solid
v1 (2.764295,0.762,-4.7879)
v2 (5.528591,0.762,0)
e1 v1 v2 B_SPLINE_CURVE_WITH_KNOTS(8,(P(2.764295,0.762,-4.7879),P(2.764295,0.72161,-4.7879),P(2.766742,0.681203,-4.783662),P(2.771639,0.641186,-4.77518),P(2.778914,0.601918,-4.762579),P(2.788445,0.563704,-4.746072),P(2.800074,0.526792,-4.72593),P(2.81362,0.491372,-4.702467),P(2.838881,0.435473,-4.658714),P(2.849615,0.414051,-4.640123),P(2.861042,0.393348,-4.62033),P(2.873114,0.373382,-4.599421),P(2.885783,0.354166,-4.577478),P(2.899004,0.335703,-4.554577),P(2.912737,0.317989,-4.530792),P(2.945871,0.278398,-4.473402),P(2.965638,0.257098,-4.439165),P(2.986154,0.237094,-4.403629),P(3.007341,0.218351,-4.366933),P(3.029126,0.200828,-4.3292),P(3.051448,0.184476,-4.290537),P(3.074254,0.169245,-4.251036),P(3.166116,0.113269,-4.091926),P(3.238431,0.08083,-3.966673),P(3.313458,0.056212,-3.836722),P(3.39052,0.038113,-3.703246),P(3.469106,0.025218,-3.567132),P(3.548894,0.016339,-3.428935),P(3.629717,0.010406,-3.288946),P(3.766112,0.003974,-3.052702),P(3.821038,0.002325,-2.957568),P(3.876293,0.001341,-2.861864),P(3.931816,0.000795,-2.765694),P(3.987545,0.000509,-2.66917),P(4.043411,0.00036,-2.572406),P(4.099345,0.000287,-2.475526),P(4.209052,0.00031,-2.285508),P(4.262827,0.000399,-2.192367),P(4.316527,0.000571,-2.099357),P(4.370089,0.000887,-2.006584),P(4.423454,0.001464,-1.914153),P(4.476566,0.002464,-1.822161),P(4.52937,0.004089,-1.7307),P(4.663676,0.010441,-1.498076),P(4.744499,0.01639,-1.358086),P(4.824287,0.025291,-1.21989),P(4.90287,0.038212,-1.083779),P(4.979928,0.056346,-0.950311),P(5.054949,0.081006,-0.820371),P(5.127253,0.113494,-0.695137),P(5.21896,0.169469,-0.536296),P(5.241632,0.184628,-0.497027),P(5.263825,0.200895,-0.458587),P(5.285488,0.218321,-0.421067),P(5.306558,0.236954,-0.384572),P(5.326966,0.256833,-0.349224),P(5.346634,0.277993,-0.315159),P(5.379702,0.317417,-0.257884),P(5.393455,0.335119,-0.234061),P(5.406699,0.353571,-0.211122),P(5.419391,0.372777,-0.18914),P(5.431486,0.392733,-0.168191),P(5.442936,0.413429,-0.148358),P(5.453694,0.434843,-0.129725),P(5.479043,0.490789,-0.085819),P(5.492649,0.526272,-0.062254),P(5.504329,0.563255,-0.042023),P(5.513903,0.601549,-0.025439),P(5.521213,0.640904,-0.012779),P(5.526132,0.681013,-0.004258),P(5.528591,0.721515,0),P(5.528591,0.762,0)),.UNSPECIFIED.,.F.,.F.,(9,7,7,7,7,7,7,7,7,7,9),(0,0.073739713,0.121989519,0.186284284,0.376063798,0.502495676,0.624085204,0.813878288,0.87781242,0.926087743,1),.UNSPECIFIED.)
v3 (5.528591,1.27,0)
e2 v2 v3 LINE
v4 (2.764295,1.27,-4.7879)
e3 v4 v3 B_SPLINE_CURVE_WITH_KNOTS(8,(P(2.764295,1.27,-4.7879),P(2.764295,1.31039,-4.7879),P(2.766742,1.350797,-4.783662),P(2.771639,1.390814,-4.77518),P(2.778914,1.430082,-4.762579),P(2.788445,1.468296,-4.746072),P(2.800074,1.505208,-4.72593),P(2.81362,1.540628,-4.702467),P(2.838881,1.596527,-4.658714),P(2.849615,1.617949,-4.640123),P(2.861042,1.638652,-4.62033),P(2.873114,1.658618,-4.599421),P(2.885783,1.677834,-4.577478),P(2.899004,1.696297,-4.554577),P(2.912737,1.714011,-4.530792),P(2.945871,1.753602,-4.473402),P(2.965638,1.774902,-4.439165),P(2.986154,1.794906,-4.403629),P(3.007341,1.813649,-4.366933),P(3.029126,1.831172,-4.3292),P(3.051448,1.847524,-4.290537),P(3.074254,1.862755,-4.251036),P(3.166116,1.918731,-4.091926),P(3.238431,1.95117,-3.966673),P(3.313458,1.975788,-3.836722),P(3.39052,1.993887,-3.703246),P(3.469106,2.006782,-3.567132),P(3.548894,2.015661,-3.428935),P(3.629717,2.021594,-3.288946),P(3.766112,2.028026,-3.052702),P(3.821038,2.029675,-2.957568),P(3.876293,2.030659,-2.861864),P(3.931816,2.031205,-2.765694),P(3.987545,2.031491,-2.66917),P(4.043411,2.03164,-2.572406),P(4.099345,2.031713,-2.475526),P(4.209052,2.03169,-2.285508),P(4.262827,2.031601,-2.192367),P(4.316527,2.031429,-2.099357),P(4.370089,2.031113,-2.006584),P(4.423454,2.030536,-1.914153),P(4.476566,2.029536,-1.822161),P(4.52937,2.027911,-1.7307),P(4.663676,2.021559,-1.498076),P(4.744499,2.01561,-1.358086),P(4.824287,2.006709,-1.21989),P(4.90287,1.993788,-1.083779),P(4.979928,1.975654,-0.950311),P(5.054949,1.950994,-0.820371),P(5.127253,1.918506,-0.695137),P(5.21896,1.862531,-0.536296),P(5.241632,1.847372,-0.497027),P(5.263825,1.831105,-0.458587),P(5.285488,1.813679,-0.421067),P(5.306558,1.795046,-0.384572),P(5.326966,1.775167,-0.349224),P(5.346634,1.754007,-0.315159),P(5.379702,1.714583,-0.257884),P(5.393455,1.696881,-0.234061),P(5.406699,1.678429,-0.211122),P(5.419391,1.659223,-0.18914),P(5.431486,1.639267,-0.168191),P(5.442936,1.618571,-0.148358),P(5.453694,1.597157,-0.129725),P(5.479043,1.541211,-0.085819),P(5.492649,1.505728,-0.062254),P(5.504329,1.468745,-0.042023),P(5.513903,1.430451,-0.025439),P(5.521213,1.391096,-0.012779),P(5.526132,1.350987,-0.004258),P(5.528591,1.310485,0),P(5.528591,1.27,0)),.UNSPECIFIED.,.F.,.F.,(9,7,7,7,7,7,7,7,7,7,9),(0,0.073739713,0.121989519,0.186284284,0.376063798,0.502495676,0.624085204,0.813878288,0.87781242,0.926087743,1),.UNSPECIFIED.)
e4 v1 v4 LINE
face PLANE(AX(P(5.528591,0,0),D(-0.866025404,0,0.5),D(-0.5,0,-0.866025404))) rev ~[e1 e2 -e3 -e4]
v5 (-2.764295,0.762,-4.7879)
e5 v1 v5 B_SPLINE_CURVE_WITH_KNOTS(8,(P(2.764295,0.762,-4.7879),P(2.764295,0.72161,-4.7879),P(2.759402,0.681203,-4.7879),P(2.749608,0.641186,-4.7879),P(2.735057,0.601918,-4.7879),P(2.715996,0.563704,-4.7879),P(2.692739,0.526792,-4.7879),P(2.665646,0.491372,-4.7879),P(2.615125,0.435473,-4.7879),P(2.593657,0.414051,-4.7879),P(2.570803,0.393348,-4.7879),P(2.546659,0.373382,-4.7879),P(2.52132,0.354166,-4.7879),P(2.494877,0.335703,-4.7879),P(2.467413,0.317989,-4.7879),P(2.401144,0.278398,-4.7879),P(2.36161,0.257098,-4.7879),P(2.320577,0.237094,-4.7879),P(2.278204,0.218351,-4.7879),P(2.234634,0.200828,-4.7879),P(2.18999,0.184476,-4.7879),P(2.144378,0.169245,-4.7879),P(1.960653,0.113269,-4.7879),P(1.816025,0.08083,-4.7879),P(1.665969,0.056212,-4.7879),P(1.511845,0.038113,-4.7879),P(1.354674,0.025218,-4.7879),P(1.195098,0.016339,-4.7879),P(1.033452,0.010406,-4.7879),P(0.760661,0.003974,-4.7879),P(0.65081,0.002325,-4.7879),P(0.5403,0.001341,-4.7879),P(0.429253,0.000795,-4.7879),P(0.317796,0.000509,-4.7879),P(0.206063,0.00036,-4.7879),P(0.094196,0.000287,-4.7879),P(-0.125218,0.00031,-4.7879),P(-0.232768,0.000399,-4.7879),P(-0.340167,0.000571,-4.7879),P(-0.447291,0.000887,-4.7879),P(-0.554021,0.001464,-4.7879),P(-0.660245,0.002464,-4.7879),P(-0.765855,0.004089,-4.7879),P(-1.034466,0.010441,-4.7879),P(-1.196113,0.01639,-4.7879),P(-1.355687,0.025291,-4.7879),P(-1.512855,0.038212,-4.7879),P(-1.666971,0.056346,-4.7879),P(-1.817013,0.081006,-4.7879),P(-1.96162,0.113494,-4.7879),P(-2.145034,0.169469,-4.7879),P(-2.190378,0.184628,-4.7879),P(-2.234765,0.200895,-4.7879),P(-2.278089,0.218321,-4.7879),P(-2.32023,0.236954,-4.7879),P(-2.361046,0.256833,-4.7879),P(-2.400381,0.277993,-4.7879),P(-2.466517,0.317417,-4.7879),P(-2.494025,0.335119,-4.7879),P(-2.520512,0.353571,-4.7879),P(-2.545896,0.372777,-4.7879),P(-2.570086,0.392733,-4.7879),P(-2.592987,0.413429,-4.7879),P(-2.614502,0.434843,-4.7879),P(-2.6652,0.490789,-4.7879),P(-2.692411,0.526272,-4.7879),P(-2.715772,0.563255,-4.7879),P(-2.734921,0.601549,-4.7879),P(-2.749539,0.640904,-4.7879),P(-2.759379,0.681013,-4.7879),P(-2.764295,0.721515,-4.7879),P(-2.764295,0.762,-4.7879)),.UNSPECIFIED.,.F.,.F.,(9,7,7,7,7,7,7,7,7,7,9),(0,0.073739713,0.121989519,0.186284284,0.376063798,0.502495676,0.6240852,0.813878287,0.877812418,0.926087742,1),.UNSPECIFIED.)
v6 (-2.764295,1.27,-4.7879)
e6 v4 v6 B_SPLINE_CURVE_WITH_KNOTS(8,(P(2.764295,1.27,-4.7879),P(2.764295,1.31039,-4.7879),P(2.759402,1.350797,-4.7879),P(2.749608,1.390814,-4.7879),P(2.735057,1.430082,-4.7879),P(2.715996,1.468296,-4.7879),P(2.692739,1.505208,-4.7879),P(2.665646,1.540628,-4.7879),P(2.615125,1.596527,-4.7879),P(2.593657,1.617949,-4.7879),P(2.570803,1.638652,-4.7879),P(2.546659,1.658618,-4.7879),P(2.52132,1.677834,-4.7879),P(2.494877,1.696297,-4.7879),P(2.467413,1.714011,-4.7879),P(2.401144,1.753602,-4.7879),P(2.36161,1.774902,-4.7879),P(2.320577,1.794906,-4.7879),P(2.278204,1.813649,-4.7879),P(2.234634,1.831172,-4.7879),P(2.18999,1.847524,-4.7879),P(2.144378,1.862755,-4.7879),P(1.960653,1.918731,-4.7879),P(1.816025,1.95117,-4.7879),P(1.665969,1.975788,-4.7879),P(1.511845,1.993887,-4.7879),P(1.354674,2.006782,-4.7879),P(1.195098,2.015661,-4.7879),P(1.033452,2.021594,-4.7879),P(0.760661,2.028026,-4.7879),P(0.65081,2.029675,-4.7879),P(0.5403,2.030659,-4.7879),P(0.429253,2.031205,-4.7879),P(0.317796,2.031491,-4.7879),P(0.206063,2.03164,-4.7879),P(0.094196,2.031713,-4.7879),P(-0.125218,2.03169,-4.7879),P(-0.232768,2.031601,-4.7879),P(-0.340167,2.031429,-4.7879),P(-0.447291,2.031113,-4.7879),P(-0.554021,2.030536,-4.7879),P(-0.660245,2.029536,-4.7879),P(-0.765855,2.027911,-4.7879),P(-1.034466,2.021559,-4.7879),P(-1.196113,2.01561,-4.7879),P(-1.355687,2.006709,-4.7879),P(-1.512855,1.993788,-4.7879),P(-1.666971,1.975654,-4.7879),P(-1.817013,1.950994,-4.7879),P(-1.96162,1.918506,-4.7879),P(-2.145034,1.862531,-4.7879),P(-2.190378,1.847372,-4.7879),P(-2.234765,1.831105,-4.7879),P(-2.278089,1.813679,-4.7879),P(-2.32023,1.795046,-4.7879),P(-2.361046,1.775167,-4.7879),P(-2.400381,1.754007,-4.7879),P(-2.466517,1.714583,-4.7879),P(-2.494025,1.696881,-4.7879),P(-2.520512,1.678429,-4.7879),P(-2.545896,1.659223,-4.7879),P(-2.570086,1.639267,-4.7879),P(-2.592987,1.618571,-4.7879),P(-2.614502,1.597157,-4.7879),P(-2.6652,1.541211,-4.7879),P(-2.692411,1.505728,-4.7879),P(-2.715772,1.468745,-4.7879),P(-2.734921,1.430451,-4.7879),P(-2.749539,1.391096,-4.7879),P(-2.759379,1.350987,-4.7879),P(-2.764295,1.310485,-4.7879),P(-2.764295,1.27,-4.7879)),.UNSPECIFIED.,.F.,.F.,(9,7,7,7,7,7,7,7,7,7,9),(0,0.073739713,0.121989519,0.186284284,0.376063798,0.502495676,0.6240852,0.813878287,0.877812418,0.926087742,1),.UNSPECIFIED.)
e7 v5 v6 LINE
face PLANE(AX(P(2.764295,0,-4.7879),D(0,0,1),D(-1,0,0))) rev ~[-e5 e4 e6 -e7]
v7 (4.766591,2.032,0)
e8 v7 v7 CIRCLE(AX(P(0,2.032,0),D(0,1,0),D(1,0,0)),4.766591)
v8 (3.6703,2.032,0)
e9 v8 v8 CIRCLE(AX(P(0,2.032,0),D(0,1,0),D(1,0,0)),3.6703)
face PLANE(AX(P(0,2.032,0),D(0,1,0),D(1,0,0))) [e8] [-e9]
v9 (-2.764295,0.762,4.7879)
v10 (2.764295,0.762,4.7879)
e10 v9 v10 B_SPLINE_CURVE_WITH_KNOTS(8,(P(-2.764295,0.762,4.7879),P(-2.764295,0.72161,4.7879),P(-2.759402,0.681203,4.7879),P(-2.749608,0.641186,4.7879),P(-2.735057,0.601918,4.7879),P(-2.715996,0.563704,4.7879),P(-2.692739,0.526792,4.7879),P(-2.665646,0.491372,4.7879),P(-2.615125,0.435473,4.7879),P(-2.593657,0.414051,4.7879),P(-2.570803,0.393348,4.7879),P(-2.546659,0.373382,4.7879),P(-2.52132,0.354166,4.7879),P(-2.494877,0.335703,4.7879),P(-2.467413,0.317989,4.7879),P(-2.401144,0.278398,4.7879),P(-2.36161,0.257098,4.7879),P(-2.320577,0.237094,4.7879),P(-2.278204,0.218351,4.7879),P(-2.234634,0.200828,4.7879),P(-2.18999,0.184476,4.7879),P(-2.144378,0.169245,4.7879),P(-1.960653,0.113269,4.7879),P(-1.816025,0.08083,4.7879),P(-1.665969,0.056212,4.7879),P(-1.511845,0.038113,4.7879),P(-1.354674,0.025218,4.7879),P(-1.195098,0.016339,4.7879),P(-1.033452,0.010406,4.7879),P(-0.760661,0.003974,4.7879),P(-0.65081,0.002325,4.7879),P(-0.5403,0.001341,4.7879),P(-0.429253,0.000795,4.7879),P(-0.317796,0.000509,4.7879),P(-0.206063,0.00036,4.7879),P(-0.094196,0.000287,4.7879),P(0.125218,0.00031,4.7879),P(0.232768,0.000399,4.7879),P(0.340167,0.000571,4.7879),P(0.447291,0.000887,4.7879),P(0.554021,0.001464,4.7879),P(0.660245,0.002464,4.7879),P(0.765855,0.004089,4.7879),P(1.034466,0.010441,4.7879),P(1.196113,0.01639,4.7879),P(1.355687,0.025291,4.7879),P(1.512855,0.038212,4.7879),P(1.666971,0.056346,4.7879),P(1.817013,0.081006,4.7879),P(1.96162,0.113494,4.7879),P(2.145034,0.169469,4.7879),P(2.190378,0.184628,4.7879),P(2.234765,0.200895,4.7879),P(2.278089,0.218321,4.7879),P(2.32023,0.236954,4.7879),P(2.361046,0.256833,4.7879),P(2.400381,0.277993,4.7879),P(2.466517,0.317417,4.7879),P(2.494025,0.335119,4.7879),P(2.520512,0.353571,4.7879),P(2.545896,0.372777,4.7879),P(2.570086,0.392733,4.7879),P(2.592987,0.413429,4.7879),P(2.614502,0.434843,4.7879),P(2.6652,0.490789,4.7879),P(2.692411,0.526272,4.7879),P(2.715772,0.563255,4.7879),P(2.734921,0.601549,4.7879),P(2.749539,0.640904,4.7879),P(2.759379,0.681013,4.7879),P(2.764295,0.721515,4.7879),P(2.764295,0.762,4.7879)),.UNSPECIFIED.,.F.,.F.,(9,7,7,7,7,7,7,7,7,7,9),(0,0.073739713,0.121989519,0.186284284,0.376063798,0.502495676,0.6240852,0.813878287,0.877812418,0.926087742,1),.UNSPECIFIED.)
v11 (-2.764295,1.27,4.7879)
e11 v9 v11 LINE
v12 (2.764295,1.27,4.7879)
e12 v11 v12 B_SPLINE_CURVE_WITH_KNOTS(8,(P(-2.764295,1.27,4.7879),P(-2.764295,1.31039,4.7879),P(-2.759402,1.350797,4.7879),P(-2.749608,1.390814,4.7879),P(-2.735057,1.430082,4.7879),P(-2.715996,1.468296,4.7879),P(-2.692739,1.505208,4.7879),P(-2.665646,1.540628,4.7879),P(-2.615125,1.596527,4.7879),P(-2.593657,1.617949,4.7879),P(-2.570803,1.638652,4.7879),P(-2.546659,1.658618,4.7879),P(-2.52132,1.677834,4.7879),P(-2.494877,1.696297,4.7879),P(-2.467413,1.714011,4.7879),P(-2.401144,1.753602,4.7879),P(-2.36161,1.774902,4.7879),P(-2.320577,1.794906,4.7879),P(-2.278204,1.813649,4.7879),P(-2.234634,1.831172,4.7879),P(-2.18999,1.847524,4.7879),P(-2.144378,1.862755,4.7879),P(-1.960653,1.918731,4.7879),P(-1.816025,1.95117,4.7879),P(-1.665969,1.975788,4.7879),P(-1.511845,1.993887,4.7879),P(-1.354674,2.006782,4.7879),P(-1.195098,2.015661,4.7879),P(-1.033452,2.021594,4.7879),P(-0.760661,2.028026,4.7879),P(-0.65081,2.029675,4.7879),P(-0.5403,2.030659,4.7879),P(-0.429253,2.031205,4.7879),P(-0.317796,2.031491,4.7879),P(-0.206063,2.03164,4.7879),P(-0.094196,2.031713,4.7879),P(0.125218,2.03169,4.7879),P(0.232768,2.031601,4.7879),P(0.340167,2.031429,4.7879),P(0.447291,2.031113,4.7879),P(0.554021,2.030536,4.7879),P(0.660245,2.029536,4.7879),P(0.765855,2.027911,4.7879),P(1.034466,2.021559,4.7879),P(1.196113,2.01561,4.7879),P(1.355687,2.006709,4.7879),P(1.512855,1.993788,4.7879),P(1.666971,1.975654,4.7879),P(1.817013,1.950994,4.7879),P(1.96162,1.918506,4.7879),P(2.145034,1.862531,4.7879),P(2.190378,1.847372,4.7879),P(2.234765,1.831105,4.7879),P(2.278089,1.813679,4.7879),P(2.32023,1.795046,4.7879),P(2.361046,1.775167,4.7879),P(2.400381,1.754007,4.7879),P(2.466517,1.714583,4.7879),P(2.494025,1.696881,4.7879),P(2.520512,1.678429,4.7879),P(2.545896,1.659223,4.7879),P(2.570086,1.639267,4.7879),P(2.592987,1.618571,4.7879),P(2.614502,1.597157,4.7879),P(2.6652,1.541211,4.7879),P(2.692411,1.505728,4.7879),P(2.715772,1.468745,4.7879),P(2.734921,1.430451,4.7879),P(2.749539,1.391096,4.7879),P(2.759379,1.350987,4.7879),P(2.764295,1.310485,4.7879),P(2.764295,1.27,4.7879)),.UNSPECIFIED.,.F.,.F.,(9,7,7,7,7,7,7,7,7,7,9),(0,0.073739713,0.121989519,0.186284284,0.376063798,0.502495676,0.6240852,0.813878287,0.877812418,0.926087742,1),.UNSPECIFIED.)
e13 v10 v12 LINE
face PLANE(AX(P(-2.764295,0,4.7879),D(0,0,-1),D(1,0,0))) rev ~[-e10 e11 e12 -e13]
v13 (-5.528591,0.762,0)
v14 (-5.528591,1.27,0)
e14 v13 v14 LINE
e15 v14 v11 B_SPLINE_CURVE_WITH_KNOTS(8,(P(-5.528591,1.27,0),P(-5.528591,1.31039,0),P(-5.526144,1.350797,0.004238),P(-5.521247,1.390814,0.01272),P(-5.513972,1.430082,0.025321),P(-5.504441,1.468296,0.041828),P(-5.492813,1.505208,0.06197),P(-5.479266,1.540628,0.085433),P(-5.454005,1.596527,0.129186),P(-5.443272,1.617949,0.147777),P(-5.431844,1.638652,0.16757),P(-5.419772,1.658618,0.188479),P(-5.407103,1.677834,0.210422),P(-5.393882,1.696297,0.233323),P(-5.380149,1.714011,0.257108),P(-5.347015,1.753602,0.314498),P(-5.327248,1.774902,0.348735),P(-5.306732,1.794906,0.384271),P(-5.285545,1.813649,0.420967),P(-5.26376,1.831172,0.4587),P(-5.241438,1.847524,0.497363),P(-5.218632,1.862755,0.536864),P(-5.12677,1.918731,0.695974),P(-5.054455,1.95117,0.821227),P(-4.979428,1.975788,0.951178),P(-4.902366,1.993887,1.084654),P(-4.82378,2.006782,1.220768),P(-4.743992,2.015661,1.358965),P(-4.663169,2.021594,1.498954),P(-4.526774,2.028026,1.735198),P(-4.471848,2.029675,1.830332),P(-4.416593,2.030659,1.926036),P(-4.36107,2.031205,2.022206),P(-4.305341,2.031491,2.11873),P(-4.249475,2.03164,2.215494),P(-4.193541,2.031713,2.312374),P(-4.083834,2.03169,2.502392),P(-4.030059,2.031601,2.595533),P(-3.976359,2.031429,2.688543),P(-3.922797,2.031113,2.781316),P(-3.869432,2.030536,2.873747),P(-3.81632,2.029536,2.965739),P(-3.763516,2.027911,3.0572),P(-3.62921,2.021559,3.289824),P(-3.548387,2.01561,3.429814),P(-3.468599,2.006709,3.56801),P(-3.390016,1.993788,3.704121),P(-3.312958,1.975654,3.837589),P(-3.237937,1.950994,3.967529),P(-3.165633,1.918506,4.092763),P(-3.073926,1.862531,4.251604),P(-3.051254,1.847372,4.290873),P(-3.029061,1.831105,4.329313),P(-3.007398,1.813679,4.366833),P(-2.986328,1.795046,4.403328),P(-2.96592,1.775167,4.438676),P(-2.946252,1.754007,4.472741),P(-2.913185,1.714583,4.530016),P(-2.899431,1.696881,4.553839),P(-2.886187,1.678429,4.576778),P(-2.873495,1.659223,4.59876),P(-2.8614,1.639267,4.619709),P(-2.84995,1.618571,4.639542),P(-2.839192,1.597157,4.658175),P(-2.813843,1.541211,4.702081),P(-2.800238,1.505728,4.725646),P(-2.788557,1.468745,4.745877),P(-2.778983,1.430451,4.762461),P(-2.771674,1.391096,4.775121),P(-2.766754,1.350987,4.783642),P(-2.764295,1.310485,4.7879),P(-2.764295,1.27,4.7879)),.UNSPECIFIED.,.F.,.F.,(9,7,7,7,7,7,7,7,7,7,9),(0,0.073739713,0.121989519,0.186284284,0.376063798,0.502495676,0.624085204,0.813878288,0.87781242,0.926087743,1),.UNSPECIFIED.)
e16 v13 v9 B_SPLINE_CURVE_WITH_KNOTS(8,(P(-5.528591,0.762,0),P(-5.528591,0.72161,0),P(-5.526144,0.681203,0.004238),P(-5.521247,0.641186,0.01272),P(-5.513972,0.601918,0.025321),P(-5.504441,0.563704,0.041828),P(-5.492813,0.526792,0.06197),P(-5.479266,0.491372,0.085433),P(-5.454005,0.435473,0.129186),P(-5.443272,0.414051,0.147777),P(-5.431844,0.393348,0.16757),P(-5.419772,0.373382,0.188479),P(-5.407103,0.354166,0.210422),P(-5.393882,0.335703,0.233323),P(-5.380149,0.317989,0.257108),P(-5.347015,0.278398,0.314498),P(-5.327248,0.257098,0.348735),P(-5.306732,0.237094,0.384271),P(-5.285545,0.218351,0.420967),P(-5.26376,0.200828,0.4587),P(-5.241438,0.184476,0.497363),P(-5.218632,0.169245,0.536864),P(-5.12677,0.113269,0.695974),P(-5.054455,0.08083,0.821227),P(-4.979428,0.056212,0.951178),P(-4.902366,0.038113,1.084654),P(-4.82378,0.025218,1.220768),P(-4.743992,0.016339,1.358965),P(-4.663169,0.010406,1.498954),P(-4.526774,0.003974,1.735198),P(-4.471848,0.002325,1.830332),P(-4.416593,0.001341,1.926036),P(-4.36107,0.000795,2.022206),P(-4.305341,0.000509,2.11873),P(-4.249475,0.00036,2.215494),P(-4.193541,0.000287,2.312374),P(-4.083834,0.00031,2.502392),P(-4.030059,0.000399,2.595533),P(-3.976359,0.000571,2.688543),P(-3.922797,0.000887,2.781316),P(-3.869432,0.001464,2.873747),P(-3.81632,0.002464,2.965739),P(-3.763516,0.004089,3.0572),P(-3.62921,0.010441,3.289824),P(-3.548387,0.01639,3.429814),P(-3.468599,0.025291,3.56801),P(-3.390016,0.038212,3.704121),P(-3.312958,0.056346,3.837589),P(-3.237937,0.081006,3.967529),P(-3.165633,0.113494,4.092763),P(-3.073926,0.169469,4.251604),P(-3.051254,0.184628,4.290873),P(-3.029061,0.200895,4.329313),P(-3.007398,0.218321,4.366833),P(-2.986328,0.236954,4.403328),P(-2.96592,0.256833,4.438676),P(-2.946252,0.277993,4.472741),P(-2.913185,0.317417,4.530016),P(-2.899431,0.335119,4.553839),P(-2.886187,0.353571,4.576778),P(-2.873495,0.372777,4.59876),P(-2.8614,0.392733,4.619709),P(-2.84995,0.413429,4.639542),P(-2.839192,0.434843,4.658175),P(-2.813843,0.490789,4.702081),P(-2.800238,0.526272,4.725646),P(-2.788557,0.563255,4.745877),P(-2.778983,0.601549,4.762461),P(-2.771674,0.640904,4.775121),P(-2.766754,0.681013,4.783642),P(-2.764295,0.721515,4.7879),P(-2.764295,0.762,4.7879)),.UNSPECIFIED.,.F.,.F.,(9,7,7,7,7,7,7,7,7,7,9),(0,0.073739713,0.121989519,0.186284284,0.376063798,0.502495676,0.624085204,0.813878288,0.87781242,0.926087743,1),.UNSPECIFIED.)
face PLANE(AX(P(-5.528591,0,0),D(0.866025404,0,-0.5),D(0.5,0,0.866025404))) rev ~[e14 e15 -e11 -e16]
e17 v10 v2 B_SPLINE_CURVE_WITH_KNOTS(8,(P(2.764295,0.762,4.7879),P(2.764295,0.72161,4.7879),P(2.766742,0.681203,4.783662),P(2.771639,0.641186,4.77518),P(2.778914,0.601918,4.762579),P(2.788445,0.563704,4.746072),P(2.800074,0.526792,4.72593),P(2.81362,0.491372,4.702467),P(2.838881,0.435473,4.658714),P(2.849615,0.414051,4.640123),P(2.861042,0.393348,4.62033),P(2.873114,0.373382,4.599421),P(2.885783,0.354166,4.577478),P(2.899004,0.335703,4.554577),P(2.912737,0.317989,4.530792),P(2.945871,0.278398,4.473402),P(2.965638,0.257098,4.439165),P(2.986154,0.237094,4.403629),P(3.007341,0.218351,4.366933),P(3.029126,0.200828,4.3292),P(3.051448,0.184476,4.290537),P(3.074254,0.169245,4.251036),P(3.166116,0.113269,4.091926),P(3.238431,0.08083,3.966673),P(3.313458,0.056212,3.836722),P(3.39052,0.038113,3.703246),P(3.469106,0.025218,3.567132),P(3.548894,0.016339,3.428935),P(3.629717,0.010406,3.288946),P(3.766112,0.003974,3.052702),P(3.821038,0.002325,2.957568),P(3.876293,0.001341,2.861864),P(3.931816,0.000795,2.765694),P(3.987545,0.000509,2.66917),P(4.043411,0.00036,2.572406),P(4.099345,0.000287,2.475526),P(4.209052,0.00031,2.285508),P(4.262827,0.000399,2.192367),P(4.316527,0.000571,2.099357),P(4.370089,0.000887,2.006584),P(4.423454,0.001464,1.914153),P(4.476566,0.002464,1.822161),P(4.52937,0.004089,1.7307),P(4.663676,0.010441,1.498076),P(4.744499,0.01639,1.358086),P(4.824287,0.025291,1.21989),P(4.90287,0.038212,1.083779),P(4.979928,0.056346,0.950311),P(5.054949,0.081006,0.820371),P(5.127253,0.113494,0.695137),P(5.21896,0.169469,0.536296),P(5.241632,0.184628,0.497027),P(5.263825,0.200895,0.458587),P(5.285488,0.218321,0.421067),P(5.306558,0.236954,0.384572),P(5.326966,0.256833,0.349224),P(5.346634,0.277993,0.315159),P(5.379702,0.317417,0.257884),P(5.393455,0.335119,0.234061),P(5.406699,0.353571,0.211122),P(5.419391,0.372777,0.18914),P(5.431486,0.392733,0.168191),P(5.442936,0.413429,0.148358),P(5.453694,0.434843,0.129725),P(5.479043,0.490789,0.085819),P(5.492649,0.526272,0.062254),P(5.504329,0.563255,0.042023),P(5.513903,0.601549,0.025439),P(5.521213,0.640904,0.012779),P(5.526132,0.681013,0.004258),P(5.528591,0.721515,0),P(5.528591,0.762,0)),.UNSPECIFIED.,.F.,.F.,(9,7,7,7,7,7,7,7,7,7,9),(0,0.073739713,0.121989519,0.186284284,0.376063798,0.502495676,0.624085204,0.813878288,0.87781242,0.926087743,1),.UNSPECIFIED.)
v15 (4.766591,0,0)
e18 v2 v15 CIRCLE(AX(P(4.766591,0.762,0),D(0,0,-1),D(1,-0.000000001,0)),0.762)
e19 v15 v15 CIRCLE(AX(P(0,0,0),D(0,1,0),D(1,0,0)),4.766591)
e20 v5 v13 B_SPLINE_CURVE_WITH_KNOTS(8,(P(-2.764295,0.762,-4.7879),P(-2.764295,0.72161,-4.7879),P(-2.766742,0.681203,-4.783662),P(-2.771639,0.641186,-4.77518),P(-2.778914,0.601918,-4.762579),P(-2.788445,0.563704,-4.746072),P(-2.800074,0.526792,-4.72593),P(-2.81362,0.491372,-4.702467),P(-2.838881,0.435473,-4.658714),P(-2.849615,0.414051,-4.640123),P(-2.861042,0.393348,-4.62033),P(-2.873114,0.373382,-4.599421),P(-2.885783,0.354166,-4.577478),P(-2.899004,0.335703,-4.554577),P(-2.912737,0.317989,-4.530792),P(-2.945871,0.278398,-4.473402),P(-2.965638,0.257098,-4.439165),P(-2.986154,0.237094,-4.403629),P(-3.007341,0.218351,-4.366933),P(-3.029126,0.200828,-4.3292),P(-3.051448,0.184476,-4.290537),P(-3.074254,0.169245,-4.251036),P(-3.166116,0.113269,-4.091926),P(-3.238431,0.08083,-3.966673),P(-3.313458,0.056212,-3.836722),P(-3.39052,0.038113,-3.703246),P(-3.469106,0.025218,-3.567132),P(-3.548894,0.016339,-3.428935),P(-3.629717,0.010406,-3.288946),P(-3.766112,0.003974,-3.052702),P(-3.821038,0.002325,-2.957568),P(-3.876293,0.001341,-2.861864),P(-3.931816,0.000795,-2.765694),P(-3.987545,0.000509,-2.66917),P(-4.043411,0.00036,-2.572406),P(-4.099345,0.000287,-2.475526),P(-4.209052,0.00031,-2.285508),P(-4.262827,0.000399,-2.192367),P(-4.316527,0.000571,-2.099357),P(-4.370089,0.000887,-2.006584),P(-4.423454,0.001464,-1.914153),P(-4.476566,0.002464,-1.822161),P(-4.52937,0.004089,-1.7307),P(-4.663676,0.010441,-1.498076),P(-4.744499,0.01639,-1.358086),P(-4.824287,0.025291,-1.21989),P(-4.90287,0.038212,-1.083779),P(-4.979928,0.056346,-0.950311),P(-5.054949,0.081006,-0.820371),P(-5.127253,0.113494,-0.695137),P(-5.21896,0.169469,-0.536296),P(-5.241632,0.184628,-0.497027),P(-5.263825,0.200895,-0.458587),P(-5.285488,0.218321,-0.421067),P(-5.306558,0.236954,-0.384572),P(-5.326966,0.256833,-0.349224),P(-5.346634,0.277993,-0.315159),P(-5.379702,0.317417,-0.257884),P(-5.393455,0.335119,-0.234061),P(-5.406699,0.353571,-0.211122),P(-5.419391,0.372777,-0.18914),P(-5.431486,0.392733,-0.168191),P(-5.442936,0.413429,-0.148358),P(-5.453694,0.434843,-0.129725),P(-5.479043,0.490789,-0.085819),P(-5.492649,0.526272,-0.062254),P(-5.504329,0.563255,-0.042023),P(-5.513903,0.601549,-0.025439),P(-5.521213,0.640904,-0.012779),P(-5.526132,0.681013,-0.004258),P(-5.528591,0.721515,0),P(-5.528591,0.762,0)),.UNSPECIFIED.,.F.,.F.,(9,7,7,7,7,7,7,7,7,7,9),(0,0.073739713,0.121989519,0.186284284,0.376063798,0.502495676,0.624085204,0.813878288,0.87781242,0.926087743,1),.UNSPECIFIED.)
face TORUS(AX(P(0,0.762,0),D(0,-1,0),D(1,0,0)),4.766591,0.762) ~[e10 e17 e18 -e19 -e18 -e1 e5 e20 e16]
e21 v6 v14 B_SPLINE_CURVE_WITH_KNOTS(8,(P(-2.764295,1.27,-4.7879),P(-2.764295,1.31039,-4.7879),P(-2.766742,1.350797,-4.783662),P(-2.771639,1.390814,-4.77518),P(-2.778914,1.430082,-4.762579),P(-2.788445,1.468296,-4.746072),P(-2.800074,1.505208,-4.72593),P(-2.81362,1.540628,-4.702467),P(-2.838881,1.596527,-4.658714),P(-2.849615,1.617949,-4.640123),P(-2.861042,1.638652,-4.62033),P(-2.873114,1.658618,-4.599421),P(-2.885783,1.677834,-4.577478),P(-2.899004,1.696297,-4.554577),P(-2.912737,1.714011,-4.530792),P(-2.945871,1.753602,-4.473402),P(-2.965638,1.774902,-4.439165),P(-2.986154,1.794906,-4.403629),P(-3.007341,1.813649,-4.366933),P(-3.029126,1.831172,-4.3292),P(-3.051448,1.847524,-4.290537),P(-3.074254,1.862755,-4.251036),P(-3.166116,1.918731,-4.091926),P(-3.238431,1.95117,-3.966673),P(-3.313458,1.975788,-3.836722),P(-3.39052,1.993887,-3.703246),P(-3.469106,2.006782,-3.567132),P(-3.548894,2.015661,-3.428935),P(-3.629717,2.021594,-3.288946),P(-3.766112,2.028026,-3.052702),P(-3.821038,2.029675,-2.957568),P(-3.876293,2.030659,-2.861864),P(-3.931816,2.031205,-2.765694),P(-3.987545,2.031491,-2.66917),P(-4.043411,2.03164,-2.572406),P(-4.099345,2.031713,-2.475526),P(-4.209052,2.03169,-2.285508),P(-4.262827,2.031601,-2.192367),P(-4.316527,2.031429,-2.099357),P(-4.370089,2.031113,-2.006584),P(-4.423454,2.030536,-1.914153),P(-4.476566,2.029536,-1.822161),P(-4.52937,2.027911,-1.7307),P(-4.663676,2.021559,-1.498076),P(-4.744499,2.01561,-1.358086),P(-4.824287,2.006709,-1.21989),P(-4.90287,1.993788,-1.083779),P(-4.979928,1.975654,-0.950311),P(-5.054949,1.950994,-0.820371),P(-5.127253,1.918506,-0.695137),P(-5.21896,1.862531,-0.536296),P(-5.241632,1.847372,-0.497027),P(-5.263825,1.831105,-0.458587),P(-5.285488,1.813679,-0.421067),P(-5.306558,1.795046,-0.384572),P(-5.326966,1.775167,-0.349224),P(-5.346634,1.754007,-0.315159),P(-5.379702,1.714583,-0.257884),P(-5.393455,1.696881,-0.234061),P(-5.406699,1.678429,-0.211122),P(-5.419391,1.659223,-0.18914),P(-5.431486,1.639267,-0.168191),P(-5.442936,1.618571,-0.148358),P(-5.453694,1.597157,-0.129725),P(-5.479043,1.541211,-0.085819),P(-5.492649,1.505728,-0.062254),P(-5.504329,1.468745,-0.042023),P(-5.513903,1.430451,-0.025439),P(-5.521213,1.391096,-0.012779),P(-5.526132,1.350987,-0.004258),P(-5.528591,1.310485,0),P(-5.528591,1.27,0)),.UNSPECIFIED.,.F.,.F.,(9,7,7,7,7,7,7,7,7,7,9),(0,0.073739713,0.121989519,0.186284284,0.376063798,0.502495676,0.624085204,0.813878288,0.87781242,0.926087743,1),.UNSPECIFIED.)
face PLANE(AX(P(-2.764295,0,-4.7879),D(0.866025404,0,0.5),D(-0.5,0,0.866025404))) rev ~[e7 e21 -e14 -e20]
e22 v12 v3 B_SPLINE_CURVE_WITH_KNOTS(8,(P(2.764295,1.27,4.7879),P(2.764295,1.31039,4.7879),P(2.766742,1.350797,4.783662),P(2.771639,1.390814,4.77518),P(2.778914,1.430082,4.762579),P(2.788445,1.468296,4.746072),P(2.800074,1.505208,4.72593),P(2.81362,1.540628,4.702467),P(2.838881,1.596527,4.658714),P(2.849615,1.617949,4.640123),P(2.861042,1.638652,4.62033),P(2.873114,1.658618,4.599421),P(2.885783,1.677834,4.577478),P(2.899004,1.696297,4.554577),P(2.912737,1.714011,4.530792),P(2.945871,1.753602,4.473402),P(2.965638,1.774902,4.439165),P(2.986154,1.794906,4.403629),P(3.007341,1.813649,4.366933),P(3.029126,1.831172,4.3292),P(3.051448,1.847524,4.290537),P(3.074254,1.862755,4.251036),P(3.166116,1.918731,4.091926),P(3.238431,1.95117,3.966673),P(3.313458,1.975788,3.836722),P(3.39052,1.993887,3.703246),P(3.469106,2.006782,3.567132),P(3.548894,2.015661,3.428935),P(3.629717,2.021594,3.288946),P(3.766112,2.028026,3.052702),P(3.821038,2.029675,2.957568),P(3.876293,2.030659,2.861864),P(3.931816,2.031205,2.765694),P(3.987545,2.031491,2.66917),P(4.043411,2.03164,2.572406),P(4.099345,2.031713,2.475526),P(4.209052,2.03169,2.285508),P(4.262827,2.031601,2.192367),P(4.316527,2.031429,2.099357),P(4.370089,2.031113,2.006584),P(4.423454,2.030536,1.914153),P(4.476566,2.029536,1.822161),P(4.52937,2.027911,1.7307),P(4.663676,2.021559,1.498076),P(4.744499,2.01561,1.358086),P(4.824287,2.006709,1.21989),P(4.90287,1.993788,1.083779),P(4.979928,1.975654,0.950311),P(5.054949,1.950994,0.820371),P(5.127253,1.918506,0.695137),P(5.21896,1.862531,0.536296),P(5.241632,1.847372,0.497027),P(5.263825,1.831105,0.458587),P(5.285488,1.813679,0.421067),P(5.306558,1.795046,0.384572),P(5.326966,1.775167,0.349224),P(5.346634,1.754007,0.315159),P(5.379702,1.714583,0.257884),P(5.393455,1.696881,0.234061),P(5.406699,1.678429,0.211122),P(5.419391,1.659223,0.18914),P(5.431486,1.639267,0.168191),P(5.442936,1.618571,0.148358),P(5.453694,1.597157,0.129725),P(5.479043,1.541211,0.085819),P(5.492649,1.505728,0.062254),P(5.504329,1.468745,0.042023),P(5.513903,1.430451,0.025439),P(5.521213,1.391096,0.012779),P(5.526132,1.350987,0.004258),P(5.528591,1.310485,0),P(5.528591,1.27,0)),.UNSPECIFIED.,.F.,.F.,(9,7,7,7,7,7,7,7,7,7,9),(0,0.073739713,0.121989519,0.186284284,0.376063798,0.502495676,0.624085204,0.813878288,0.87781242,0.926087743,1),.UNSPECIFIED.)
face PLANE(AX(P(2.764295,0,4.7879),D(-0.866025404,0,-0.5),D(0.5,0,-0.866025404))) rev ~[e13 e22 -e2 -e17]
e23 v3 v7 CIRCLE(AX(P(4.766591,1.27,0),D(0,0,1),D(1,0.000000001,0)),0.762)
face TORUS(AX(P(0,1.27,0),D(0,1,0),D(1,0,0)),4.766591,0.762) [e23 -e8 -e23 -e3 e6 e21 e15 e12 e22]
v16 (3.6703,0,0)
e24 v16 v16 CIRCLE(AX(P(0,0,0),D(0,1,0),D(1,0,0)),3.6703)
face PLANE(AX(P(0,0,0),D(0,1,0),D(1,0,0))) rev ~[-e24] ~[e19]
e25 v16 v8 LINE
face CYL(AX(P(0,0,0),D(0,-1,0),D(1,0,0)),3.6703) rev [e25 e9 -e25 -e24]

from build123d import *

# Parameters (mm, degrees)
SKETCH1_R           = 3.6703
BOSS_EXTRUDE1_DEPTH = 2.032


with BuildPart() as part:
    # Sketch1 → Boss-Extrude1 (new body)
    with BuildSketch(Plane(origin=(0, 0, 0), x_dir=(1, 0, 0), z_dir=(0, 1, 0))):
        Polygon((-2.764295354, 4.7879), (-5.528590708, 0), (-2.764295354, -4.7879), (2.764295354, -4.7879), (5.528590708, 0), (2.764295354, 4.7879), align=None)
        Circle(SKETCH1_R, mode=Mode.SUBTRACT)
    extrude(amount=BOSS_EXTRUDE1_DEPTH)

    # Sketch2 → Cut-Revolve1 (revolve, cut)
    with BuildSketch(Plane.XY):
        with BuildLine():
            Line((4.766590708, 2.032), (5.528590708, 2.032))
            Line((5.528590708, 2.032), (5.528590708, 1.27))
            ThreePointArc((5.528590708, 1.27), (5.305406075, 1.808815367), (4.766590708, 2.032))
        make_face()
        with BuildLine():
            Line((4.766590708, 0), (5.528590708, 0))
            Line((5.528590708, 0), (5.528590708, 0.762))
            ThreePointArc((5.528590708, 0.762), (5.305406075, 0.223184633), (4.766590708, 0))
        make_face()
    revolve(axis=Axis((0, 0, 0), (0, 1, 0)), mode=Mode.SUBTRACT)


solid = part.part
